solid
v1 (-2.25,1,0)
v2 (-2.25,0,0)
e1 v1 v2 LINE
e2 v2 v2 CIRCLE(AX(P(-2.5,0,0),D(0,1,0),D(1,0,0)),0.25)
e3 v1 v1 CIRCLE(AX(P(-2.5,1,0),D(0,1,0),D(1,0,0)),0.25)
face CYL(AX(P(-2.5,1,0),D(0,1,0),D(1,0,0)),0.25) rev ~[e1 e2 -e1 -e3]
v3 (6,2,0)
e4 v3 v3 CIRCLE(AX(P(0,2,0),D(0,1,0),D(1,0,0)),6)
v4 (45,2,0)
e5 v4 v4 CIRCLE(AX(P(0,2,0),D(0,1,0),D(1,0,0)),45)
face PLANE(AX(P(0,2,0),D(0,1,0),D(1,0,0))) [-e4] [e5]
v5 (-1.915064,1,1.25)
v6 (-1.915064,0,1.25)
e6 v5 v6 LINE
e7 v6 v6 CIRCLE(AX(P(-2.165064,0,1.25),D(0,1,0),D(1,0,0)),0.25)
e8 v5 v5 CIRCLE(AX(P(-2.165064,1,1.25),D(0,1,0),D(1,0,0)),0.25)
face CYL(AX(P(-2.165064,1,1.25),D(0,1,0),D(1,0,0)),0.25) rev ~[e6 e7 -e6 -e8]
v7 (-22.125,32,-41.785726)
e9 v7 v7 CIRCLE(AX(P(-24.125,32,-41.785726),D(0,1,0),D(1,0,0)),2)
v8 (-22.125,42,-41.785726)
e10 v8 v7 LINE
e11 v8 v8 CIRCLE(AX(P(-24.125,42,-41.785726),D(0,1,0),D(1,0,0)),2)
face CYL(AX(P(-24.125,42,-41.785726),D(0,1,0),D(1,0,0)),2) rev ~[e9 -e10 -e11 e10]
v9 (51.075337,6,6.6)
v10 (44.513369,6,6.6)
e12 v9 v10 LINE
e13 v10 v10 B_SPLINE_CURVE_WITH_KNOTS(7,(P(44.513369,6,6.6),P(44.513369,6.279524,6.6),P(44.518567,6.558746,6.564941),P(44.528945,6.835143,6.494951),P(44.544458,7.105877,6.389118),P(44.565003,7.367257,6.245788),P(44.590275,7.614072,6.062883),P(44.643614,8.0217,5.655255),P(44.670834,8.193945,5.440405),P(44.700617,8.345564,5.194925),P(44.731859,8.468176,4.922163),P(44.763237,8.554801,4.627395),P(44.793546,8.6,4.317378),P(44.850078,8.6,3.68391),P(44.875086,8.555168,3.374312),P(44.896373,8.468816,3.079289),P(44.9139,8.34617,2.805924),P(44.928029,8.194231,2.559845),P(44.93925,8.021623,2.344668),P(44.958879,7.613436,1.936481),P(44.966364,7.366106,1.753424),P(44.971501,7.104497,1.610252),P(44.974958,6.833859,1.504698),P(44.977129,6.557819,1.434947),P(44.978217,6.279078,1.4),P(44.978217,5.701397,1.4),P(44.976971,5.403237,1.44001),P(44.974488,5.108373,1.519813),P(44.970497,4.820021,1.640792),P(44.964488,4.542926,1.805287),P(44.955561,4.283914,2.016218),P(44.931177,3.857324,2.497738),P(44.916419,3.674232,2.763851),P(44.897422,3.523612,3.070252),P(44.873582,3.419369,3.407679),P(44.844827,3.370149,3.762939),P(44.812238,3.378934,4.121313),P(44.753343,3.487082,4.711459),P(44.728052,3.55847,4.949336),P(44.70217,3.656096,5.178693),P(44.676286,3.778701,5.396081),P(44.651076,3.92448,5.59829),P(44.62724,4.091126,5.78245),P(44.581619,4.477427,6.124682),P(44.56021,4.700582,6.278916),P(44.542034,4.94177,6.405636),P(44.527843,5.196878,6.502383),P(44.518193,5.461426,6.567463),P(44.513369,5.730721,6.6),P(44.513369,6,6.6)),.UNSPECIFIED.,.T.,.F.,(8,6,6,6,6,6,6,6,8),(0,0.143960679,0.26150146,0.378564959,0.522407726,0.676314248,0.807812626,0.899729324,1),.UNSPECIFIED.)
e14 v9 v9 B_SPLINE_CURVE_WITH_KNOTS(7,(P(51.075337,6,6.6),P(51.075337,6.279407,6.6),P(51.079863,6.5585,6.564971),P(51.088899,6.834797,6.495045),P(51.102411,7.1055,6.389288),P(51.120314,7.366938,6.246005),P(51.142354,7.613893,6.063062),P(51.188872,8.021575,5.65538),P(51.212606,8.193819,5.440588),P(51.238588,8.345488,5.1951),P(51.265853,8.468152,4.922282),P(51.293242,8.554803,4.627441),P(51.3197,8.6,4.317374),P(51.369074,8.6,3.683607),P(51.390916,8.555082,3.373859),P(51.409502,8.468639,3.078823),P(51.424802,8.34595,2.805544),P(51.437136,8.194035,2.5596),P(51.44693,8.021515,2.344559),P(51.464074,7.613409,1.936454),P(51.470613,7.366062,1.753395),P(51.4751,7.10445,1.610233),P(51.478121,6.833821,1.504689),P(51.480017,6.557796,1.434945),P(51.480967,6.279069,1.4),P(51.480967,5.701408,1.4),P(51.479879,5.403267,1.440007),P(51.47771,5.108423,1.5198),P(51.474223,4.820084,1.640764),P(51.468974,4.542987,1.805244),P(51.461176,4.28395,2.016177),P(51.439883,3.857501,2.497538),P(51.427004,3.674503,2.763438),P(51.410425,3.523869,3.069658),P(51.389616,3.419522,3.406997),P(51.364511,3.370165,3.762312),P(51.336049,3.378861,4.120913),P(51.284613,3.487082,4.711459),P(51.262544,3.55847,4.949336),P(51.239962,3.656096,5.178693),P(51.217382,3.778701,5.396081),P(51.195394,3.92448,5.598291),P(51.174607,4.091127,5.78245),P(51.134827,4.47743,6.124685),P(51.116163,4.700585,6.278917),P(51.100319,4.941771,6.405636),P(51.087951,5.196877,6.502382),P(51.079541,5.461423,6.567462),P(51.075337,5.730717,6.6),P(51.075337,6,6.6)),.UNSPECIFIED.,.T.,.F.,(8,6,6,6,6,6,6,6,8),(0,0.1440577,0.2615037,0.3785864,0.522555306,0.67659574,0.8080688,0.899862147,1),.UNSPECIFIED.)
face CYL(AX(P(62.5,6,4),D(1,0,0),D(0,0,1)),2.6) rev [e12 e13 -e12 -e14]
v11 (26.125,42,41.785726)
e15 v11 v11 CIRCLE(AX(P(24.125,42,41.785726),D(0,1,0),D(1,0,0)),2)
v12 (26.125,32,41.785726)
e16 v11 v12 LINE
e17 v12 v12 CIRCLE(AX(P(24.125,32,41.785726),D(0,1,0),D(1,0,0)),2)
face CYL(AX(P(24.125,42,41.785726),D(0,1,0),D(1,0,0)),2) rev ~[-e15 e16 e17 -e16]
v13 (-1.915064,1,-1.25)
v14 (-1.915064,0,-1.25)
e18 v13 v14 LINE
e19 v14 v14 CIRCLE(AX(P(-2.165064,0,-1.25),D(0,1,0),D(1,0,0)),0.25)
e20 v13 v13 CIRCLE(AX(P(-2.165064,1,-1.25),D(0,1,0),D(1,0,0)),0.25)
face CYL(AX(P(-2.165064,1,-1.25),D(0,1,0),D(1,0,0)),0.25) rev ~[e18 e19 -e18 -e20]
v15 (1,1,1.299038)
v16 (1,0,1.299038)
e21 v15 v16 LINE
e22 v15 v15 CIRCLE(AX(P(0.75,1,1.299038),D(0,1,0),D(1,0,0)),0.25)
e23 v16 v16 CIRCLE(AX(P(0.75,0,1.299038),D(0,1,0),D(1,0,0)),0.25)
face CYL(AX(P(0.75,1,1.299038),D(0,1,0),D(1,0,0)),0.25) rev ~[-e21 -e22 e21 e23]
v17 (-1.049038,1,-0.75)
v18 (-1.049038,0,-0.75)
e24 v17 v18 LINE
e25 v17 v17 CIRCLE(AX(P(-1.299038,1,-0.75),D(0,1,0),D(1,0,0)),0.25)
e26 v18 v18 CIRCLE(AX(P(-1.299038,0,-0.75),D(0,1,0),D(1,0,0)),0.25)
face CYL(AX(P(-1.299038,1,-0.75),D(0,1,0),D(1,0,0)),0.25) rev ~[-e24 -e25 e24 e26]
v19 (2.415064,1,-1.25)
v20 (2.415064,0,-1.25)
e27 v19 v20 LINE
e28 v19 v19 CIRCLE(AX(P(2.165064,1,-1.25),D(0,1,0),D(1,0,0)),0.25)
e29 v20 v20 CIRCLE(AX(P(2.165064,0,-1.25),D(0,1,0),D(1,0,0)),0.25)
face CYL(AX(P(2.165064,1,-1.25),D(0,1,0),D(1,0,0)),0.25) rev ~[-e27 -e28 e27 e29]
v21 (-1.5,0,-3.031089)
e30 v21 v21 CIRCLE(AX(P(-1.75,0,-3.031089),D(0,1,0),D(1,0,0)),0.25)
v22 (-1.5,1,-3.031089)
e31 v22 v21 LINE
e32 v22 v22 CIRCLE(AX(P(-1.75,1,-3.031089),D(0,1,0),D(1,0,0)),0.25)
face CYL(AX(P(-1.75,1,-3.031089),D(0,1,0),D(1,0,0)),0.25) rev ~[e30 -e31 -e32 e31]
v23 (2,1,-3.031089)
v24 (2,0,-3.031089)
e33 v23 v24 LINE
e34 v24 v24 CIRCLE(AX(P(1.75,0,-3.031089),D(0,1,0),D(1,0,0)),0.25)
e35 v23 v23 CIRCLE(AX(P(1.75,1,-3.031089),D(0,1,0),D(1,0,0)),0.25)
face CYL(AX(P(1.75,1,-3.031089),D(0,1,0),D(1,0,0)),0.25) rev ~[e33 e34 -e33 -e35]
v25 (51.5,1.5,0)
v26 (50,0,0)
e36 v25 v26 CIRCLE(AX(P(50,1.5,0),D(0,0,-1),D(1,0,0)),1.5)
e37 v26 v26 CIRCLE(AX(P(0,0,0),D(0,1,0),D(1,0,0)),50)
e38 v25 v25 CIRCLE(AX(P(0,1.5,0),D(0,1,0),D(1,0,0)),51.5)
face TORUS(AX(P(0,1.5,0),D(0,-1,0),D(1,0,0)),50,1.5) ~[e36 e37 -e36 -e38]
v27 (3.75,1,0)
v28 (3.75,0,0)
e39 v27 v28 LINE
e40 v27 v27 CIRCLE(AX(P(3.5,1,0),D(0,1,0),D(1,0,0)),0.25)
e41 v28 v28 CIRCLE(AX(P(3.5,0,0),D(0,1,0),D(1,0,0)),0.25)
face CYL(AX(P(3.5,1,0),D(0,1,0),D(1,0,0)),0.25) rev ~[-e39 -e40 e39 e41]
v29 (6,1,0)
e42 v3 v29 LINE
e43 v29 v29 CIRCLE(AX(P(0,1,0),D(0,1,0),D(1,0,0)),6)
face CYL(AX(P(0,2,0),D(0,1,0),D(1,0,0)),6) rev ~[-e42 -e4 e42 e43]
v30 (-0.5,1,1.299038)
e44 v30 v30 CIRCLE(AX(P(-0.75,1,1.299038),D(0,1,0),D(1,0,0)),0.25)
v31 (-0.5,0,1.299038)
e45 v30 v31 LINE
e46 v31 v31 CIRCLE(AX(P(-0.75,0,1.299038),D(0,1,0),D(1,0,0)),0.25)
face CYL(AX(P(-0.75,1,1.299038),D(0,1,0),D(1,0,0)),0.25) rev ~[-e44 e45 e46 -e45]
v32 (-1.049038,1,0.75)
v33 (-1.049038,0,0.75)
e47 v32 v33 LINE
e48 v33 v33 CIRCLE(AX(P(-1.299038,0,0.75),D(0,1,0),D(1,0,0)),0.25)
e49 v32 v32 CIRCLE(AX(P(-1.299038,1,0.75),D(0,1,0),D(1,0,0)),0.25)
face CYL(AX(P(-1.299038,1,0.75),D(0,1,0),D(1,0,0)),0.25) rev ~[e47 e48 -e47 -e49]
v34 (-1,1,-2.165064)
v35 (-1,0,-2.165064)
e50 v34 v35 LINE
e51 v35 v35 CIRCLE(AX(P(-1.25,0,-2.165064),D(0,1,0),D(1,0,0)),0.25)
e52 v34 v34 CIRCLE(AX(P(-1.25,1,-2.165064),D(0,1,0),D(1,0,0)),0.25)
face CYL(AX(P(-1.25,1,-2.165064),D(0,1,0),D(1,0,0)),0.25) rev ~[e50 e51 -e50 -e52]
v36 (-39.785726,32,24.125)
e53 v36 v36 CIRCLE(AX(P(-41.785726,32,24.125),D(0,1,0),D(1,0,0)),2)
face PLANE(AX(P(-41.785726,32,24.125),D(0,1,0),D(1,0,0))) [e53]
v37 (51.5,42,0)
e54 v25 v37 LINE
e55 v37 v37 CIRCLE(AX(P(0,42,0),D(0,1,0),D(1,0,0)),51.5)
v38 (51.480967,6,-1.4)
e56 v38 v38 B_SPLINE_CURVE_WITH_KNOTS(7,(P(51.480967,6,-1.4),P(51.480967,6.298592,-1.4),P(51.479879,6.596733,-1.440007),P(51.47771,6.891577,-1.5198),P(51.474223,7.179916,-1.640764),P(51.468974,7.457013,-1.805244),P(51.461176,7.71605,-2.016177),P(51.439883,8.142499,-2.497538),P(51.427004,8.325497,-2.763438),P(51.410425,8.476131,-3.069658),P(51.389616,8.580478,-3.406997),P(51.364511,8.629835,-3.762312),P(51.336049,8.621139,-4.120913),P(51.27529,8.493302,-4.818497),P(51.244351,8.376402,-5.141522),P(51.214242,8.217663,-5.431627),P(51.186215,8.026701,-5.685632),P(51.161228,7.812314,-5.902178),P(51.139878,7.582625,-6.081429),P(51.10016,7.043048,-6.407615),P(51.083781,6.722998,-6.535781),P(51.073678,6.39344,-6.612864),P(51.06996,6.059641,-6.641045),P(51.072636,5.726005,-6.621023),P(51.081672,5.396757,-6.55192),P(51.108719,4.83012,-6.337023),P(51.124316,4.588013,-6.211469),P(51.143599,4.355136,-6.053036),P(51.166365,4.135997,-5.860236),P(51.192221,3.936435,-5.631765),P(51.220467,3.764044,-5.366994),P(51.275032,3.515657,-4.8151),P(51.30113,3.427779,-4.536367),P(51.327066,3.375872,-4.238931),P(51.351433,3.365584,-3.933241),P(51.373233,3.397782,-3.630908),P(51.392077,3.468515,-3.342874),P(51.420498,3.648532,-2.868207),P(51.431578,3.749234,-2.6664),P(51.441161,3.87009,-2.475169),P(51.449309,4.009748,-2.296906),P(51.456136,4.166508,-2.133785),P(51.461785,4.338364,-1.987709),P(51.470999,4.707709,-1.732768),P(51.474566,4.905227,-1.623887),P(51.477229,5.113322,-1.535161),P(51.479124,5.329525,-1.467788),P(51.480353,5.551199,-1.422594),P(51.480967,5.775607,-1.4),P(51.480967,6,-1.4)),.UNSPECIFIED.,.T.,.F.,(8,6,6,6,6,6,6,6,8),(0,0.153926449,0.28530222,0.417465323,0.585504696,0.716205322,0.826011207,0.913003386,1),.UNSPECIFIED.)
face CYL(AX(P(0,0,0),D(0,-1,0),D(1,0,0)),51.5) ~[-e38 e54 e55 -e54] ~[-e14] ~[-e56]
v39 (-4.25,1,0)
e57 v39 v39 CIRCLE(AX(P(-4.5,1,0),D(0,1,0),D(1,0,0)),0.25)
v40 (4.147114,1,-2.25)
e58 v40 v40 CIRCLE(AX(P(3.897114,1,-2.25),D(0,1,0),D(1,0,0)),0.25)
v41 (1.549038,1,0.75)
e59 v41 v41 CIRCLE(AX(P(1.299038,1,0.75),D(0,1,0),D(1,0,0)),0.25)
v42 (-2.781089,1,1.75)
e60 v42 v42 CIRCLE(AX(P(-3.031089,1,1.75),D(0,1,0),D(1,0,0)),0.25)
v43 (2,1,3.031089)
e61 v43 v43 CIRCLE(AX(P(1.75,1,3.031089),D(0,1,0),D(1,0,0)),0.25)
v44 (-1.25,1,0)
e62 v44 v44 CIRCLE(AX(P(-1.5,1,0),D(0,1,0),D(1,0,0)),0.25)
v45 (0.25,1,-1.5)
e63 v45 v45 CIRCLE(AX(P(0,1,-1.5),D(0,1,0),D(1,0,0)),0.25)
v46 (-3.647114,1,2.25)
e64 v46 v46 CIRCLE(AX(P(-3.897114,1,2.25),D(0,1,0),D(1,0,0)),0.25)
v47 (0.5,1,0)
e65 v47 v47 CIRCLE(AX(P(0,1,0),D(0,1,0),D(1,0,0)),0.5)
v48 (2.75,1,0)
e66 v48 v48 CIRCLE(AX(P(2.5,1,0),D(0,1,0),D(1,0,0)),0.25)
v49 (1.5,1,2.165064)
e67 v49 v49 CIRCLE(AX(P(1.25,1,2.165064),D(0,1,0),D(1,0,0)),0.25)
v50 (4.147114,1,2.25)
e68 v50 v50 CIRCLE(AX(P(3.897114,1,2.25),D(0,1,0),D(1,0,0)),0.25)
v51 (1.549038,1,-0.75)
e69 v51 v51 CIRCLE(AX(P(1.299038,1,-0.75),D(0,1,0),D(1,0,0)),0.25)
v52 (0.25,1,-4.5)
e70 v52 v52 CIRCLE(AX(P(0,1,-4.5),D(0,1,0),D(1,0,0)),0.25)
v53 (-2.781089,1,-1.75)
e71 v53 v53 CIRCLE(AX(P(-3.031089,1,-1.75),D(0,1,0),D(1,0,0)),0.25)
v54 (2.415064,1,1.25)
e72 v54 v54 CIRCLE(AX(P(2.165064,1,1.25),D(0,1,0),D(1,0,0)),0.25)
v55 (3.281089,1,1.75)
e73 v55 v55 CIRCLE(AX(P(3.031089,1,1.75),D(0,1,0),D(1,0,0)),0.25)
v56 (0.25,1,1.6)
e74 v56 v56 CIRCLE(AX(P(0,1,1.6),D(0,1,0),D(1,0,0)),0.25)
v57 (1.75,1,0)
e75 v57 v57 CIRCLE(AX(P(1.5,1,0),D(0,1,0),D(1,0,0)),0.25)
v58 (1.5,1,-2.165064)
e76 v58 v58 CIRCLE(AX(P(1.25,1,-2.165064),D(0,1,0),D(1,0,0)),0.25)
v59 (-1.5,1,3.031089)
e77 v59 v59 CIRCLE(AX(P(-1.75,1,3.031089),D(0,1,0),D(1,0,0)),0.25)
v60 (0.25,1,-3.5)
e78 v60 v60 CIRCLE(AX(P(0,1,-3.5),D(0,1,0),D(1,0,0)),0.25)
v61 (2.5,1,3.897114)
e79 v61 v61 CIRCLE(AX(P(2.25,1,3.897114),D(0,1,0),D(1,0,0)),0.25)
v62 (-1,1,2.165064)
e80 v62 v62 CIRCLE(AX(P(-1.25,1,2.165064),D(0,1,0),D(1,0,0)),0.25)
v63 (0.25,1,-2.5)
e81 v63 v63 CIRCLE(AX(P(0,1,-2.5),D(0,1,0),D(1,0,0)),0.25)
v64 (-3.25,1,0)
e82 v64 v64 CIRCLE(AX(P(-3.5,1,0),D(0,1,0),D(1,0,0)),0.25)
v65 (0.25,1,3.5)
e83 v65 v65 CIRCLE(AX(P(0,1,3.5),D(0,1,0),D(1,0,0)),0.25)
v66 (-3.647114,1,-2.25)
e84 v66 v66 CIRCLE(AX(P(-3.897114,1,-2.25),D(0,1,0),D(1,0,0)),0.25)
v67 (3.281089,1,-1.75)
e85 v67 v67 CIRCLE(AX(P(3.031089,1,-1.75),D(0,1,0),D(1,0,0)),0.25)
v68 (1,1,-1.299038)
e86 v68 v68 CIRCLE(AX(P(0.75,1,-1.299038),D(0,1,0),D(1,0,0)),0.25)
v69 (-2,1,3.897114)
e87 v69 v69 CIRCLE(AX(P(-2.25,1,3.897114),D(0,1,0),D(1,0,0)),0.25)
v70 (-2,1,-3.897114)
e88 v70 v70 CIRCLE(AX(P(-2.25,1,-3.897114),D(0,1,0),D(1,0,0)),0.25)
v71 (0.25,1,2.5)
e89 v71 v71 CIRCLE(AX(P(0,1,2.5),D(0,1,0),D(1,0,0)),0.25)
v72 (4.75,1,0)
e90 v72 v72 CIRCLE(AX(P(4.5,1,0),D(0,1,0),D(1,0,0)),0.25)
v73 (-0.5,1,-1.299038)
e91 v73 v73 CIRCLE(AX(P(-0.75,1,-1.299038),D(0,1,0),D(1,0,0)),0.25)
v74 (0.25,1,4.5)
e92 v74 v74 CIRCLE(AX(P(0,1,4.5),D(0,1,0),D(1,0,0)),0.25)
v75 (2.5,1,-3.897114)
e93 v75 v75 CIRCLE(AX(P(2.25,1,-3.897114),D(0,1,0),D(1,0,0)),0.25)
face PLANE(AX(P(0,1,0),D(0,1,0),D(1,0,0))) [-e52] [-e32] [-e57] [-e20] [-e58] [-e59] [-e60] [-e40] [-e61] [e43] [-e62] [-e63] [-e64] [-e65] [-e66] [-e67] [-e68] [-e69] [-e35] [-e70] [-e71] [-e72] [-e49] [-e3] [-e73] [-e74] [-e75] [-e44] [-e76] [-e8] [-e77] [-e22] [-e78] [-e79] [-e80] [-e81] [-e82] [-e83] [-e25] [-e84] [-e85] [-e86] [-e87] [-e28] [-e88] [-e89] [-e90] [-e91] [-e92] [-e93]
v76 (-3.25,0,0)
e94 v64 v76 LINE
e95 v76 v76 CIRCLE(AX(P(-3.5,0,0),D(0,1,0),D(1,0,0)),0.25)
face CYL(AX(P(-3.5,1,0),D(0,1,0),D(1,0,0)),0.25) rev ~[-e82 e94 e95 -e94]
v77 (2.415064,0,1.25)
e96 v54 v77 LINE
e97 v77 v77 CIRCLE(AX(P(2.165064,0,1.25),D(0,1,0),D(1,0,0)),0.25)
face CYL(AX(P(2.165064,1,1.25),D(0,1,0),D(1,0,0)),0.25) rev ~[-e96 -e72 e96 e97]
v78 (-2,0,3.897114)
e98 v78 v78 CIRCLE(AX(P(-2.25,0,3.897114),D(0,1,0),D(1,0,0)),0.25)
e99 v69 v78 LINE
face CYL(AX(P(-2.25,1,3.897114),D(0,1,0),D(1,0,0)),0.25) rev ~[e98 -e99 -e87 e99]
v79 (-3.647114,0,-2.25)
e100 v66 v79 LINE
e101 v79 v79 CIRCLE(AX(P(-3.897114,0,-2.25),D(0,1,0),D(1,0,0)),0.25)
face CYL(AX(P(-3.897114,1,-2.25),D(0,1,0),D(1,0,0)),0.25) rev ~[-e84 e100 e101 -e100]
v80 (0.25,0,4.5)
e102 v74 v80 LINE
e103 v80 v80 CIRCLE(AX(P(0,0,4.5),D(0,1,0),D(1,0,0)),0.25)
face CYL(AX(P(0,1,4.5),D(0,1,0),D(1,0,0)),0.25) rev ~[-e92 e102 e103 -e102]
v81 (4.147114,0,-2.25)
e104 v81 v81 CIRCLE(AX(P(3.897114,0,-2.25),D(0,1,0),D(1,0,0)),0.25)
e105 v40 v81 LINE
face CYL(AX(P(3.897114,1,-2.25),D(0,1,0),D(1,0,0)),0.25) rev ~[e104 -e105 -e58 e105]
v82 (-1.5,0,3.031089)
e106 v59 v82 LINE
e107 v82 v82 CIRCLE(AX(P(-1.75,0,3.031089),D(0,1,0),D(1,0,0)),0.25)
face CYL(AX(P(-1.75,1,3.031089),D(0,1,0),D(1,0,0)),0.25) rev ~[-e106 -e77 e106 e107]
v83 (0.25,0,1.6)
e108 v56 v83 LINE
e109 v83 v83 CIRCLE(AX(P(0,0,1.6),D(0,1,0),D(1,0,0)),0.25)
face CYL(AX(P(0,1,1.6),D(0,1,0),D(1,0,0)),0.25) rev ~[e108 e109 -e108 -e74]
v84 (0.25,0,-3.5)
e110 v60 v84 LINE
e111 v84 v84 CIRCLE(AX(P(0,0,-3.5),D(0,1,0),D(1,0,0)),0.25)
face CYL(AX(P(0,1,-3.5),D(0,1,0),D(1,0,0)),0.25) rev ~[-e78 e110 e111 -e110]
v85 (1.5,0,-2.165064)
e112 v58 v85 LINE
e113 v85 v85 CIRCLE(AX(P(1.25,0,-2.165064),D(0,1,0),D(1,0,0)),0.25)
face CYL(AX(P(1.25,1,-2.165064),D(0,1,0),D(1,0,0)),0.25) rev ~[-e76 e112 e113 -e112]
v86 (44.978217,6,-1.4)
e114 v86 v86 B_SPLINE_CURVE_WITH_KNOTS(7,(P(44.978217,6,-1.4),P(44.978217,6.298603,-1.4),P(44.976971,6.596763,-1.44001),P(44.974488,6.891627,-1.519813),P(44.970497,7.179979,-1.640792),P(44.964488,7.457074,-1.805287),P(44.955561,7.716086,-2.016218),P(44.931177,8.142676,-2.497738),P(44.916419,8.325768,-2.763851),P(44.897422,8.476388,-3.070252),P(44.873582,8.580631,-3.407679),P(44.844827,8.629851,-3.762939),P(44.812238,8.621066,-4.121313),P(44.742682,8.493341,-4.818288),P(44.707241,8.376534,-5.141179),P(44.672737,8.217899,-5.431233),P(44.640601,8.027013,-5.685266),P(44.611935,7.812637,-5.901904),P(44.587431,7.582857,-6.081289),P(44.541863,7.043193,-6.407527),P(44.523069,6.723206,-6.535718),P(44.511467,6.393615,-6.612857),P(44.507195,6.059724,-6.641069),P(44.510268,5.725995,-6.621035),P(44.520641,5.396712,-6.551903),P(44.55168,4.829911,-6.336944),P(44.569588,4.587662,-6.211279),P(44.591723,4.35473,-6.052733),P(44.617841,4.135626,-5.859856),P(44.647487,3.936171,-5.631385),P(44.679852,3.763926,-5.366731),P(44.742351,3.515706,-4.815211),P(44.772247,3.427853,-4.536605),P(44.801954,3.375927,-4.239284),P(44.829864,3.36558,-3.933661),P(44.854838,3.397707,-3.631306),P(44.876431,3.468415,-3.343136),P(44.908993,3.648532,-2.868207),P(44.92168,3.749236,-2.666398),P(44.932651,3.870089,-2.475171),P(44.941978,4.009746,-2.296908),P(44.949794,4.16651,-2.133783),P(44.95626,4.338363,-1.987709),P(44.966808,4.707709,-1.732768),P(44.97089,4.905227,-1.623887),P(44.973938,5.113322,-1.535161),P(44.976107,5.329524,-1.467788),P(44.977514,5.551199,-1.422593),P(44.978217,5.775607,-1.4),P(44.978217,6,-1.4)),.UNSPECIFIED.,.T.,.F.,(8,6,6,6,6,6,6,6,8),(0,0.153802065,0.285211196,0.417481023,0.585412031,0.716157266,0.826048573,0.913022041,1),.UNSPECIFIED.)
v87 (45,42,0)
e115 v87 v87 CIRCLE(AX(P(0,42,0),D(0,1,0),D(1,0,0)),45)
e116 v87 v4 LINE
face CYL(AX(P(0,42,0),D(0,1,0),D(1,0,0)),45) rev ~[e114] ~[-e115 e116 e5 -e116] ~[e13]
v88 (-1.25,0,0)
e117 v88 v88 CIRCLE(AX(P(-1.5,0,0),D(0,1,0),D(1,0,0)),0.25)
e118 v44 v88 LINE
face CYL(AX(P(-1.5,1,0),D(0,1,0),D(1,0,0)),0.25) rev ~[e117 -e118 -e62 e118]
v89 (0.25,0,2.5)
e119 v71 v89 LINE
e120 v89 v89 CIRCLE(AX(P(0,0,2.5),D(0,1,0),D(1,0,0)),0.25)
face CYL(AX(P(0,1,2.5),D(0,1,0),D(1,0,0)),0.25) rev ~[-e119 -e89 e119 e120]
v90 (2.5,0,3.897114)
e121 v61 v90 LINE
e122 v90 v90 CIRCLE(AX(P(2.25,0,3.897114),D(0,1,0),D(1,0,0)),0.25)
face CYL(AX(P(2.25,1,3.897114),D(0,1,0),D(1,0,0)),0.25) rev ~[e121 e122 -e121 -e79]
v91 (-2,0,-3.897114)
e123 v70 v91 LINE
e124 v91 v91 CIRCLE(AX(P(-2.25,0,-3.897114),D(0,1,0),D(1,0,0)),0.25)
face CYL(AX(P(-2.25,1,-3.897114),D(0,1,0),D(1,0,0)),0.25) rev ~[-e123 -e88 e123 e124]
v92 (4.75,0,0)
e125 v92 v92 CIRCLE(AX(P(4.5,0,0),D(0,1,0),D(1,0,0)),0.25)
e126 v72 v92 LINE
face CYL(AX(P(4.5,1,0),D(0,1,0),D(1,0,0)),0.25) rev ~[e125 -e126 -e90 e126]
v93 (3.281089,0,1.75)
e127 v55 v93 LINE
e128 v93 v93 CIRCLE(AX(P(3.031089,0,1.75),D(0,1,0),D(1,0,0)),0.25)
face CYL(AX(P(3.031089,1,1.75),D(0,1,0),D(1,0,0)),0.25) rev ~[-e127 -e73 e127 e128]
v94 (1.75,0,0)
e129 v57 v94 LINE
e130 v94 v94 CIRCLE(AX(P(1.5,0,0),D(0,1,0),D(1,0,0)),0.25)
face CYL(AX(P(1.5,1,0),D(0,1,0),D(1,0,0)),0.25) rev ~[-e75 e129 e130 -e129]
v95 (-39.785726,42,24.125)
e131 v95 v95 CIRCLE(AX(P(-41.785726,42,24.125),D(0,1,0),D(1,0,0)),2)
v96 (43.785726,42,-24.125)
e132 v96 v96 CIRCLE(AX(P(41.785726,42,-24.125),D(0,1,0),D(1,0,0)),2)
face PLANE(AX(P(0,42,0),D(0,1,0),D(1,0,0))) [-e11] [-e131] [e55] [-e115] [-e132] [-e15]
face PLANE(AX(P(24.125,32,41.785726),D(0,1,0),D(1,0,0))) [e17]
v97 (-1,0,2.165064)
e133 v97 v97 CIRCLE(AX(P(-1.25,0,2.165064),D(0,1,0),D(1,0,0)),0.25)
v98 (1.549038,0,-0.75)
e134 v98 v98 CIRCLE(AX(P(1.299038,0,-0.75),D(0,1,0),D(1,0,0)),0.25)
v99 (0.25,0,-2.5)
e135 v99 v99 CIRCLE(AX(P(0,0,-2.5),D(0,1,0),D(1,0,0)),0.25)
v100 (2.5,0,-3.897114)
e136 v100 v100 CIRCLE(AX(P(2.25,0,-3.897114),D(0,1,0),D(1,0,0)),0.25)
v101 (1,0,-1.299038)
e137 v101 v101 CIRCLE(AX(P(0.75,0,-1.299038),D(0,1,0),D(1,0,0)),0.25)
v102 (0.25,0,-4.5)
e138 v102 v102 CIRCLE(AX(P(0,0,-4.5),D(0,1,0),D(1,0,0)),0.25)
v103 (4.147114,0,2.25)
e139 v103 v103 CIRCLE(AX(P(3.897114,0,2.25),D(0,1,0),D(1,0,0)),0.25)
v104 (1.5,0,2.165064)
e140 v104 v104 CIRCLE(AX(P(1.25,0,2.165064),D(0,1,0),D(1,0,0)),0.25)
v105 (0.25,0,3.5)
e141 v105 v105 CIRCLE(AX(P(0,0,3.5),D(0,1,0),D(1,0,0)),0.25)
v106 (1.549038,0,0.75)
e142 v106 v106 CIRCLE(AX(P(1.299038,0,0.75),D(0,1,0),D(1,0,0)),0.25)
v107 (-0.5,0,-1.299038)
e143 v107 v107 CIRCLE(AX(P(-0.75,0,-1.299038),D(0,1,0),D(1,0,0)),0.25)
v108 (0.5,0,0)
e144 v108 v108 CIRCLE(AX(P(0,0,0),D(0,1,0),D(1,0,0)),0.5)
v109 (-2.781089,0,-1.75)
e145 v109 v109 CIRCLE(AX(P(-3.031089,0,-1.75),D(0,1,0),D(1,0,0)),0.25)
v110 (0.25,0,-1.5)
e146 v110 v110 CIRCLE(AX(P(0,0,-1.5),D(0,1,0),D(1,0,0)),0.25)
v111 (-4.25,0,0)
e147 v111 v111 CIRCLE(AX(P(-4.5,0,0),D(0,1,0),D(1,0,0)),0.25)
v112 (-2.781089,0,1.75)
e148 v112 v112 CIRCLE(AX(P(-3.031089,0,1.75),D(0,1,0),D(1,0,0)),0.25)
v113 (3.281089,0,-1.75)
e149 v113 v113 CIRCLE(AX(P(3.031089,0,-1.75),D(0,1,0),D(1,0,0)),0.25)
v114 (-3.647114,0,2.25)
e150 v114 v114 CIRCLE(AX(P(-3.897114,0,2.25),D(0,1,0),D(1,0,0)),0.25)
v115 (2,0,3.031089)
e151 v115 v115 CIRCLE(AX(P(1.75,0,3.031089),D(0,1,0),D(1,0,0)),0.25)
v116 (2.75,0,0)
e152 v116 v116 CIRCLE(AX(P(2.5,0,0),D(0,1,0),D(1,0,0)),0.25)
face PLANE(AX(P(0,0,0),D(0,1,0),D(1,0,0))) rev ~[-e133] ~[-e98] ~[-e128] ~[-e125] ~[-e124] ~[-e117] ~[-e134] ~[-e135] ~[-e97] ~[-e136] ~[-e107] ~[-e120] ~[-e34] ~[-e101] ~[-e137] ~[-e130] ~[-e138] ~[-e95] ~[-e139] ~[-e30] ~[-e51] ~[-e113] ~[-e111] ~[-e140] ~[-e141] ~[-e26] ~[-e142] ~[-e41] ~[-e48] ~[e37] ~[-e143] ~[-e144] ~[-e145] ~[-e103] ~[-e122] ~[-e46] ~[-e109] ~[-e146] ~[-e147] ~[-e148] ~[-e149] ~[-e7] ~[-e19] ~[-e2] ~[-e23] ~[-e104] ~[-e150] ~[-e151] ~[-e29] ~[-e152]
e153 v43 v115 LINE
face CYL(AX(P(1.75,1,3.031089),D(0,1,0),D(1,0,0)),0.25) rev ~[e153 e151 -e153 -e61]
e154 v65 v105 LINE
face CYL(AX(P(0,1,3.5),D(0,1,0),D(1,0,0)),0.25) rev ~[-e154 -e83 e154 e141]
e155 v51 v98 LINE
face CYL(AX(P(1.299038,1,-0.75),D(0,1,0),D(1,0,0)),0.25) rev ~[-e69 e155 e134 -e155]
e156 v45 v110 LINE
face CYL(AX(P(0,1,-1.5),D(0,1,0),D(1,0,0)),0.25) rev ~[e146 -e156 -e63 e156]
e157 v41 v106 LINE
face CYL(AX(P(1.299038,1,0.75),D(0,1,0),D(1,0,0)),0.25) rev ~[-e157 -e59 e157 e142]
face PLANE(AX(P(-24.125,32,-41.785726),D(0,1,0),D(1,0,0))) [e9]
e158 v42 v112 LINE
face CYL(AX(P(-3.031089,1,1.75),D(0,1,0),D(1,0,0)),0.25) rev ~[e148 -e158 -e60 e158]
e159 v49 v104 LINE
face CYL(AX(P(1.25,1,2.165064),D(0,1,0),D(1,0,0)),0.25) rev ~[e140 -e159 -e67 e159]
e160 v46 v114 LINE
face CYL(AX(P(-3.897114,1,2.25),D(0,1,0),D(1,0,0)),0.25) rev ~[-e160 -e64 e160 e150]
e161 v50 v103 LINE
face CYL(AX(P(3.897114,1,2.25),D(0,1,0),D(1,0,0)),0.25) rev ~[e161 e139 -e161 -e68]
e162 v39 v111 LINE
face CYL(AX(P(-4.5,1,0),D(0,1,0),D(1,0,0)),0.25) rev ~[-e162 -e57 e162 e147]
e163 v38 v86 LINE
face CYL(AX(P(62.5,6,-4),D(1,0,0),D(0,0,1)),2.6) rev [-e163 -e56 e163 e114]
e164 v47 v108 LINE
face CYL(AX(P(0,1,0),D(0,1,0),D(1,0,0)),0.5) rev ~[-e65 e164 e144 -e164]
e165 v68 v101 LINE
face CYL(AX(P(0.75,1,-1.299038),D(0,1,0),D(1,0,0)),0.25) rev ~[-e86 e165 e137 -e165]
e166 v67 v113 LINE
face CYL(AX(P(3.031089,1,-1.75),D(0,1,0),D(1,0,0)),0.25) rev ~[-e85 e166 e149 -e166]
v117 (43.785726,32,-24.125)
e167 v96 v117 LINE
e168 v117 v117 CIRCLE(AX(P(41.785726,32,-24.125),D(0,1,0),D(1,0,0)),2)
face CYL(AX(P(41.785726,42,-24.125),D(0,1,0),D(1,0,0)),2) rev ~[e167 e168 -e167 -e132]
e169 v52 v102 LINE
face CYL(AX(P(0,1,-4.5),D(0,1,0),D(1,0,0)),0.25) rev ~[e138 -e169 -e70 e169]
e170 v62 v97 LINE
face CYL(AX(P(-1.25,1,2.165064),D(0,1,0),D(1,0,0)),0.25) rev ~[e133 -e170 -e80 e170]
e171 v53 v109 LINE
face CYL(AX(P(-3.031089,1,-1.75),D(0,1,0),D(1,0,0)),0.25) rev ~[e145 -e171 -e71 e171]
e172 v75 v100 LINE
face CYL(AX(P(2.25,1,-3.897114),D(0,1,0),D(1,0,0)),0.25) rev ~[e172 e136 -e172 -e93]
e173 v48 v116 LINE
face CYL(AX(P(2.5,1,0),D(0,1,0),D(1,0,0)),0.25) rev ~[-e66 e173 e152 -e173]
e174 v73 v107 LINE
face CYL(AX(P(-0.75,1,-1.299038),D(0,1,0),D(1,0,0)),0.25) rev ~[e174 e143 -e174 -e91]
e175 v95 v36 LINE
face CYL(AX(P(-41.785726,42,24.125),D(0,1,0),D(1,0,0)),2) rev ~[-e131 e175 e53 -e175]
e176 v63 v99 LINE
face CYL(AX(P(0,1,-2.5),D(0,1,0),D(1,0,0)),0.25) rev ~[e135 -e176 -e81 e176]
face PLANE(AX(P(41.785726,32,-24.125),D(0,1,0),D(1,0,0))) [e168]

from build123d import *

# Parameters (mm, degrees)
SKETCH1_R                = 51.5
BOSS_EXTRUDE1_DEPTH      = 42
SKETCH2_R                = 45
CUT_EXTRUDE1_DEPTH       = 40
FILLET1_R                = 1.5
SKETCH6_R                = 2
CUT_EXTRUDE6_DEPTH       = 10
CUT_EXTRUDE12_DEPTH      = 15
CUT_EXTRUDE12_DEPTH_BACK = 15
SKETCH15_R               = 2.6
SKETCH17_R               = 6
CUT_EXTRUDE13_DEPTH      = 1
SKETCH18_R               = 0.25
SKETCH18_R_2             = 0.5
CUT_EXTRUDE14_DEPTH      = 1


with BuildPart() as part:
    # Sketch1 → Boss-Extrude1 (new body)
    with BuildSketch(Plane(origin=(0, 0, 0), x_dir=(1, 0, 0), z_dir=(0, 1, 0))):
        Circle(SKETCH1_R)
    extrude(amount=BOSS_EXTRUDE1_DEPTH)

    # Sketch2 → Cut-Extrude1 (cut)
    with BuildSketch(Plane(origin=(0, 42, 0), x_dir=(1, 0, 0), z_dir=(0, 1, 0))):
        Circle(SKETCH2_R)
    extrude(amount=-CUT_EXTRUDE1_DEPTH, mode=Mode.SUBTRACT)

    # Fillet1
    fillet1_edges = [part.edges().sort_by_distance(p)[0] for p in [
        (-51.5, 0, 0),
    ]]
    fillet(fillet1_edges, radius=FILLET1_R)

    # Sketch6 → Cut-Extrude6 (cut)
    with BuildSketch(Plane(origin=(0, 42, 0), x_dir=(1, 0, 0), z_dir=(0, 1, 0))):
        with Locations((41.785725733, 24.125)):
            Circle(SKETCH6_R)
        with Locations((-24.125, 41.785725733)):
            Circle(SKETCH6_R)
        with Locations((24.125, -41.785725733)):
            Circle(SKETCH6_R)
        with Locations((-41.785725733, -24.125)):
            Circle(SKETCH6_R)
    extrude(amount=-CUT_EXTRUDE6_DEPTH, mode=Mode.SUBTRACT)

    # Sketch15 → Cut-Extrude12 (cut, two sides: drawn at the far end of the back side and taken through both)
    with BuildSketch(Plane.ZY.offset(-47.5).offset(-CUT_EXTRUDE12_DEPTH_BACK)):
        with Locations((-4, 6)):
            Circle(SKETCH15_R)
        with Locations((4, 6)):
            Circle(SKETCH15_R)
    extrude(amount=CUT_EXTRUDE12_DEPTH + CUT_EXTRUDE12_DEPTH_BACK, mode=Mode.SUBTRACT)

    # Sketch17 → Cut-Extrude13 (cut)
    with BuildSketch(Plane(origin=(0, 2, 0), x_dir=(1, 0, 0), z_dir=(0, 1, 0))):
        Circle(SKETCH17_R)
    extrude(amount=-CUT_EXTRUDE13_DEPTH, mode=Mode.SUBTRACT)

    # Sketch18 → Cut-Extrude14 (cut)
    with BuildSketch(Plane(origin=(0, 1, 0), x_dir=(1, 0, 0), z_dir=(0, 1, 0))):
        with Locations((-1.5, 0)):
            Circle(SKETCH18_R)
        with Locations((-2.5, 0)):
            Circle(SKETCH18_R)
        with Locations((-3.5, 0)):
            Circle(SKETCH18_R)
        with Locations((-4.5, 0)):
            Circle(SKETCH18_R)
        with Locations((-1.299038106, 0.75)):
            Circle(SKETCH18_R)
        with Locations((-2.165063509, 1.25)):
            Circle(SKETCH18_R)
        with Locations((-3.031088913, 1.75)):
            Circle(SKETCH18_R)
        with Locations((-3.897114317, 2.25)):
            Circle(SKETCH18_R)
        with Locations((-0.75, 1.299038106)):
            Circle(SKETCH18_R)
        with Locations((-1.25, 2.165063509)):
            Circle(SKETCH18_R)
        with Locations((-1.75, 3.031088913)):
            Circle(SKETCH18_R)
        with Locations((-2.25, 3.897114317)):
            Circle(SKETCH18_R)
        with Locations((0, 4.5)):
            Circle(SKETCH18_R)
        with Locations((0, 3.5)):
            Circle(SKETCH18_R)
        with Locations((0, 2.5)):
            Circle(SKETCH18_R)
        with Locations((0, 1.5)):
            Circle(SKETCH18_R)
        with Locations((0.75, 1.299038106)):
            Circle(SKETCH18_R)
        with Locations((1.25, 2.165063509)):
            Circle(SKETCH18_R)
        with Locations((1.75, 3.031088913)):
            Circle(SKETCH18_R)
        with Locations((2.25, 3.897114317)):
            Circle(SKETCH18_R)
        with Locations((3.897114317, 2.25)):
            Circle(SKETCH18_R)
        with Locations((3.031088913, 1.75)):
            Circle(SKETCH18_R)
        with Locations((2.165063509, 1.25)):
            Circle(SKETCH18_R)
        with Locations((1.299038106, 0.75)):
            Circle(SKETCH18_R)
        with Locations((4.5, 0)):
            Circle(SKETCH18_R)
        with Locations((3.5, 0)):
            Circle(SKETCH18_R)
        with Locations((2.5, 0)):
            Circle(SKETCH18_R)
        with Locations((1.5, 0)):
            Circle(SKETCH18_R)
        with Locations((3.897114317, -2.25)):
            Circle(SKETCH18_R)
        with Locations((3.031088913, -1.75)):
            Circle(SKETCH18_R)
        with Locations((2.165063509, -1.25)):
            Circle(SKETCH18_R)
        with Locations((1.299038106, -0.75)):
            Circle(SKETCH18_R)
        with Locations((2.25, -3.897114317)):
            Circle(SKETCH18_R)
        with Locations((1.75, -3.031088913)):
            Circle(SKETCH18_R)
        with Locations((1.25, -2.165063509)):
            Circle(SKETCH18_R)
        with Locations((0.75, -1.299038106)):
            Circle(SKETCH18_R)
        with Locations((0, -1.6)):
            Circle(SKETCH18_R)
        with Locations((0, -2.5)):
            Circle(SKETCH18_R)
        with Locations((0, -3.5)):
            Circle(SKETCH18_R)
        with Locations((0, -4.5)):
            Circle(SKETCH18_R)
        with Locations((-0.75, -1.299038106)):
            Circle(SKETCH18_R)
        with Locations((-1.25, -2.165063509)):
            Circle(SKETCH18_R)
        with Locations((-1.75, -3.031088913)):
            Circle(SKETCH18_R)
        with Locations((-2.25, -3.897114317)):
            Circle(SKETCH18_R)
        with Locations((-1.299038106, -0.75)):
            Circle(SKETCH18_R)
        with Locations((-2.165063509, -1.25)):
            Circle(SKETCH18_R)
        with Locations((-3.031088913, -1.75)):
            Circle(SKETCH18_R)
        with Locations((-3.897114317, -2.25)):
            Circle(SKETCH18_R)
        Circle(SKETCH18_R_2)
    extrude(amount=-CUT_EXTRUDE14_DEPTH, mode=Mode.SUBTRACT)


solid = part.part
